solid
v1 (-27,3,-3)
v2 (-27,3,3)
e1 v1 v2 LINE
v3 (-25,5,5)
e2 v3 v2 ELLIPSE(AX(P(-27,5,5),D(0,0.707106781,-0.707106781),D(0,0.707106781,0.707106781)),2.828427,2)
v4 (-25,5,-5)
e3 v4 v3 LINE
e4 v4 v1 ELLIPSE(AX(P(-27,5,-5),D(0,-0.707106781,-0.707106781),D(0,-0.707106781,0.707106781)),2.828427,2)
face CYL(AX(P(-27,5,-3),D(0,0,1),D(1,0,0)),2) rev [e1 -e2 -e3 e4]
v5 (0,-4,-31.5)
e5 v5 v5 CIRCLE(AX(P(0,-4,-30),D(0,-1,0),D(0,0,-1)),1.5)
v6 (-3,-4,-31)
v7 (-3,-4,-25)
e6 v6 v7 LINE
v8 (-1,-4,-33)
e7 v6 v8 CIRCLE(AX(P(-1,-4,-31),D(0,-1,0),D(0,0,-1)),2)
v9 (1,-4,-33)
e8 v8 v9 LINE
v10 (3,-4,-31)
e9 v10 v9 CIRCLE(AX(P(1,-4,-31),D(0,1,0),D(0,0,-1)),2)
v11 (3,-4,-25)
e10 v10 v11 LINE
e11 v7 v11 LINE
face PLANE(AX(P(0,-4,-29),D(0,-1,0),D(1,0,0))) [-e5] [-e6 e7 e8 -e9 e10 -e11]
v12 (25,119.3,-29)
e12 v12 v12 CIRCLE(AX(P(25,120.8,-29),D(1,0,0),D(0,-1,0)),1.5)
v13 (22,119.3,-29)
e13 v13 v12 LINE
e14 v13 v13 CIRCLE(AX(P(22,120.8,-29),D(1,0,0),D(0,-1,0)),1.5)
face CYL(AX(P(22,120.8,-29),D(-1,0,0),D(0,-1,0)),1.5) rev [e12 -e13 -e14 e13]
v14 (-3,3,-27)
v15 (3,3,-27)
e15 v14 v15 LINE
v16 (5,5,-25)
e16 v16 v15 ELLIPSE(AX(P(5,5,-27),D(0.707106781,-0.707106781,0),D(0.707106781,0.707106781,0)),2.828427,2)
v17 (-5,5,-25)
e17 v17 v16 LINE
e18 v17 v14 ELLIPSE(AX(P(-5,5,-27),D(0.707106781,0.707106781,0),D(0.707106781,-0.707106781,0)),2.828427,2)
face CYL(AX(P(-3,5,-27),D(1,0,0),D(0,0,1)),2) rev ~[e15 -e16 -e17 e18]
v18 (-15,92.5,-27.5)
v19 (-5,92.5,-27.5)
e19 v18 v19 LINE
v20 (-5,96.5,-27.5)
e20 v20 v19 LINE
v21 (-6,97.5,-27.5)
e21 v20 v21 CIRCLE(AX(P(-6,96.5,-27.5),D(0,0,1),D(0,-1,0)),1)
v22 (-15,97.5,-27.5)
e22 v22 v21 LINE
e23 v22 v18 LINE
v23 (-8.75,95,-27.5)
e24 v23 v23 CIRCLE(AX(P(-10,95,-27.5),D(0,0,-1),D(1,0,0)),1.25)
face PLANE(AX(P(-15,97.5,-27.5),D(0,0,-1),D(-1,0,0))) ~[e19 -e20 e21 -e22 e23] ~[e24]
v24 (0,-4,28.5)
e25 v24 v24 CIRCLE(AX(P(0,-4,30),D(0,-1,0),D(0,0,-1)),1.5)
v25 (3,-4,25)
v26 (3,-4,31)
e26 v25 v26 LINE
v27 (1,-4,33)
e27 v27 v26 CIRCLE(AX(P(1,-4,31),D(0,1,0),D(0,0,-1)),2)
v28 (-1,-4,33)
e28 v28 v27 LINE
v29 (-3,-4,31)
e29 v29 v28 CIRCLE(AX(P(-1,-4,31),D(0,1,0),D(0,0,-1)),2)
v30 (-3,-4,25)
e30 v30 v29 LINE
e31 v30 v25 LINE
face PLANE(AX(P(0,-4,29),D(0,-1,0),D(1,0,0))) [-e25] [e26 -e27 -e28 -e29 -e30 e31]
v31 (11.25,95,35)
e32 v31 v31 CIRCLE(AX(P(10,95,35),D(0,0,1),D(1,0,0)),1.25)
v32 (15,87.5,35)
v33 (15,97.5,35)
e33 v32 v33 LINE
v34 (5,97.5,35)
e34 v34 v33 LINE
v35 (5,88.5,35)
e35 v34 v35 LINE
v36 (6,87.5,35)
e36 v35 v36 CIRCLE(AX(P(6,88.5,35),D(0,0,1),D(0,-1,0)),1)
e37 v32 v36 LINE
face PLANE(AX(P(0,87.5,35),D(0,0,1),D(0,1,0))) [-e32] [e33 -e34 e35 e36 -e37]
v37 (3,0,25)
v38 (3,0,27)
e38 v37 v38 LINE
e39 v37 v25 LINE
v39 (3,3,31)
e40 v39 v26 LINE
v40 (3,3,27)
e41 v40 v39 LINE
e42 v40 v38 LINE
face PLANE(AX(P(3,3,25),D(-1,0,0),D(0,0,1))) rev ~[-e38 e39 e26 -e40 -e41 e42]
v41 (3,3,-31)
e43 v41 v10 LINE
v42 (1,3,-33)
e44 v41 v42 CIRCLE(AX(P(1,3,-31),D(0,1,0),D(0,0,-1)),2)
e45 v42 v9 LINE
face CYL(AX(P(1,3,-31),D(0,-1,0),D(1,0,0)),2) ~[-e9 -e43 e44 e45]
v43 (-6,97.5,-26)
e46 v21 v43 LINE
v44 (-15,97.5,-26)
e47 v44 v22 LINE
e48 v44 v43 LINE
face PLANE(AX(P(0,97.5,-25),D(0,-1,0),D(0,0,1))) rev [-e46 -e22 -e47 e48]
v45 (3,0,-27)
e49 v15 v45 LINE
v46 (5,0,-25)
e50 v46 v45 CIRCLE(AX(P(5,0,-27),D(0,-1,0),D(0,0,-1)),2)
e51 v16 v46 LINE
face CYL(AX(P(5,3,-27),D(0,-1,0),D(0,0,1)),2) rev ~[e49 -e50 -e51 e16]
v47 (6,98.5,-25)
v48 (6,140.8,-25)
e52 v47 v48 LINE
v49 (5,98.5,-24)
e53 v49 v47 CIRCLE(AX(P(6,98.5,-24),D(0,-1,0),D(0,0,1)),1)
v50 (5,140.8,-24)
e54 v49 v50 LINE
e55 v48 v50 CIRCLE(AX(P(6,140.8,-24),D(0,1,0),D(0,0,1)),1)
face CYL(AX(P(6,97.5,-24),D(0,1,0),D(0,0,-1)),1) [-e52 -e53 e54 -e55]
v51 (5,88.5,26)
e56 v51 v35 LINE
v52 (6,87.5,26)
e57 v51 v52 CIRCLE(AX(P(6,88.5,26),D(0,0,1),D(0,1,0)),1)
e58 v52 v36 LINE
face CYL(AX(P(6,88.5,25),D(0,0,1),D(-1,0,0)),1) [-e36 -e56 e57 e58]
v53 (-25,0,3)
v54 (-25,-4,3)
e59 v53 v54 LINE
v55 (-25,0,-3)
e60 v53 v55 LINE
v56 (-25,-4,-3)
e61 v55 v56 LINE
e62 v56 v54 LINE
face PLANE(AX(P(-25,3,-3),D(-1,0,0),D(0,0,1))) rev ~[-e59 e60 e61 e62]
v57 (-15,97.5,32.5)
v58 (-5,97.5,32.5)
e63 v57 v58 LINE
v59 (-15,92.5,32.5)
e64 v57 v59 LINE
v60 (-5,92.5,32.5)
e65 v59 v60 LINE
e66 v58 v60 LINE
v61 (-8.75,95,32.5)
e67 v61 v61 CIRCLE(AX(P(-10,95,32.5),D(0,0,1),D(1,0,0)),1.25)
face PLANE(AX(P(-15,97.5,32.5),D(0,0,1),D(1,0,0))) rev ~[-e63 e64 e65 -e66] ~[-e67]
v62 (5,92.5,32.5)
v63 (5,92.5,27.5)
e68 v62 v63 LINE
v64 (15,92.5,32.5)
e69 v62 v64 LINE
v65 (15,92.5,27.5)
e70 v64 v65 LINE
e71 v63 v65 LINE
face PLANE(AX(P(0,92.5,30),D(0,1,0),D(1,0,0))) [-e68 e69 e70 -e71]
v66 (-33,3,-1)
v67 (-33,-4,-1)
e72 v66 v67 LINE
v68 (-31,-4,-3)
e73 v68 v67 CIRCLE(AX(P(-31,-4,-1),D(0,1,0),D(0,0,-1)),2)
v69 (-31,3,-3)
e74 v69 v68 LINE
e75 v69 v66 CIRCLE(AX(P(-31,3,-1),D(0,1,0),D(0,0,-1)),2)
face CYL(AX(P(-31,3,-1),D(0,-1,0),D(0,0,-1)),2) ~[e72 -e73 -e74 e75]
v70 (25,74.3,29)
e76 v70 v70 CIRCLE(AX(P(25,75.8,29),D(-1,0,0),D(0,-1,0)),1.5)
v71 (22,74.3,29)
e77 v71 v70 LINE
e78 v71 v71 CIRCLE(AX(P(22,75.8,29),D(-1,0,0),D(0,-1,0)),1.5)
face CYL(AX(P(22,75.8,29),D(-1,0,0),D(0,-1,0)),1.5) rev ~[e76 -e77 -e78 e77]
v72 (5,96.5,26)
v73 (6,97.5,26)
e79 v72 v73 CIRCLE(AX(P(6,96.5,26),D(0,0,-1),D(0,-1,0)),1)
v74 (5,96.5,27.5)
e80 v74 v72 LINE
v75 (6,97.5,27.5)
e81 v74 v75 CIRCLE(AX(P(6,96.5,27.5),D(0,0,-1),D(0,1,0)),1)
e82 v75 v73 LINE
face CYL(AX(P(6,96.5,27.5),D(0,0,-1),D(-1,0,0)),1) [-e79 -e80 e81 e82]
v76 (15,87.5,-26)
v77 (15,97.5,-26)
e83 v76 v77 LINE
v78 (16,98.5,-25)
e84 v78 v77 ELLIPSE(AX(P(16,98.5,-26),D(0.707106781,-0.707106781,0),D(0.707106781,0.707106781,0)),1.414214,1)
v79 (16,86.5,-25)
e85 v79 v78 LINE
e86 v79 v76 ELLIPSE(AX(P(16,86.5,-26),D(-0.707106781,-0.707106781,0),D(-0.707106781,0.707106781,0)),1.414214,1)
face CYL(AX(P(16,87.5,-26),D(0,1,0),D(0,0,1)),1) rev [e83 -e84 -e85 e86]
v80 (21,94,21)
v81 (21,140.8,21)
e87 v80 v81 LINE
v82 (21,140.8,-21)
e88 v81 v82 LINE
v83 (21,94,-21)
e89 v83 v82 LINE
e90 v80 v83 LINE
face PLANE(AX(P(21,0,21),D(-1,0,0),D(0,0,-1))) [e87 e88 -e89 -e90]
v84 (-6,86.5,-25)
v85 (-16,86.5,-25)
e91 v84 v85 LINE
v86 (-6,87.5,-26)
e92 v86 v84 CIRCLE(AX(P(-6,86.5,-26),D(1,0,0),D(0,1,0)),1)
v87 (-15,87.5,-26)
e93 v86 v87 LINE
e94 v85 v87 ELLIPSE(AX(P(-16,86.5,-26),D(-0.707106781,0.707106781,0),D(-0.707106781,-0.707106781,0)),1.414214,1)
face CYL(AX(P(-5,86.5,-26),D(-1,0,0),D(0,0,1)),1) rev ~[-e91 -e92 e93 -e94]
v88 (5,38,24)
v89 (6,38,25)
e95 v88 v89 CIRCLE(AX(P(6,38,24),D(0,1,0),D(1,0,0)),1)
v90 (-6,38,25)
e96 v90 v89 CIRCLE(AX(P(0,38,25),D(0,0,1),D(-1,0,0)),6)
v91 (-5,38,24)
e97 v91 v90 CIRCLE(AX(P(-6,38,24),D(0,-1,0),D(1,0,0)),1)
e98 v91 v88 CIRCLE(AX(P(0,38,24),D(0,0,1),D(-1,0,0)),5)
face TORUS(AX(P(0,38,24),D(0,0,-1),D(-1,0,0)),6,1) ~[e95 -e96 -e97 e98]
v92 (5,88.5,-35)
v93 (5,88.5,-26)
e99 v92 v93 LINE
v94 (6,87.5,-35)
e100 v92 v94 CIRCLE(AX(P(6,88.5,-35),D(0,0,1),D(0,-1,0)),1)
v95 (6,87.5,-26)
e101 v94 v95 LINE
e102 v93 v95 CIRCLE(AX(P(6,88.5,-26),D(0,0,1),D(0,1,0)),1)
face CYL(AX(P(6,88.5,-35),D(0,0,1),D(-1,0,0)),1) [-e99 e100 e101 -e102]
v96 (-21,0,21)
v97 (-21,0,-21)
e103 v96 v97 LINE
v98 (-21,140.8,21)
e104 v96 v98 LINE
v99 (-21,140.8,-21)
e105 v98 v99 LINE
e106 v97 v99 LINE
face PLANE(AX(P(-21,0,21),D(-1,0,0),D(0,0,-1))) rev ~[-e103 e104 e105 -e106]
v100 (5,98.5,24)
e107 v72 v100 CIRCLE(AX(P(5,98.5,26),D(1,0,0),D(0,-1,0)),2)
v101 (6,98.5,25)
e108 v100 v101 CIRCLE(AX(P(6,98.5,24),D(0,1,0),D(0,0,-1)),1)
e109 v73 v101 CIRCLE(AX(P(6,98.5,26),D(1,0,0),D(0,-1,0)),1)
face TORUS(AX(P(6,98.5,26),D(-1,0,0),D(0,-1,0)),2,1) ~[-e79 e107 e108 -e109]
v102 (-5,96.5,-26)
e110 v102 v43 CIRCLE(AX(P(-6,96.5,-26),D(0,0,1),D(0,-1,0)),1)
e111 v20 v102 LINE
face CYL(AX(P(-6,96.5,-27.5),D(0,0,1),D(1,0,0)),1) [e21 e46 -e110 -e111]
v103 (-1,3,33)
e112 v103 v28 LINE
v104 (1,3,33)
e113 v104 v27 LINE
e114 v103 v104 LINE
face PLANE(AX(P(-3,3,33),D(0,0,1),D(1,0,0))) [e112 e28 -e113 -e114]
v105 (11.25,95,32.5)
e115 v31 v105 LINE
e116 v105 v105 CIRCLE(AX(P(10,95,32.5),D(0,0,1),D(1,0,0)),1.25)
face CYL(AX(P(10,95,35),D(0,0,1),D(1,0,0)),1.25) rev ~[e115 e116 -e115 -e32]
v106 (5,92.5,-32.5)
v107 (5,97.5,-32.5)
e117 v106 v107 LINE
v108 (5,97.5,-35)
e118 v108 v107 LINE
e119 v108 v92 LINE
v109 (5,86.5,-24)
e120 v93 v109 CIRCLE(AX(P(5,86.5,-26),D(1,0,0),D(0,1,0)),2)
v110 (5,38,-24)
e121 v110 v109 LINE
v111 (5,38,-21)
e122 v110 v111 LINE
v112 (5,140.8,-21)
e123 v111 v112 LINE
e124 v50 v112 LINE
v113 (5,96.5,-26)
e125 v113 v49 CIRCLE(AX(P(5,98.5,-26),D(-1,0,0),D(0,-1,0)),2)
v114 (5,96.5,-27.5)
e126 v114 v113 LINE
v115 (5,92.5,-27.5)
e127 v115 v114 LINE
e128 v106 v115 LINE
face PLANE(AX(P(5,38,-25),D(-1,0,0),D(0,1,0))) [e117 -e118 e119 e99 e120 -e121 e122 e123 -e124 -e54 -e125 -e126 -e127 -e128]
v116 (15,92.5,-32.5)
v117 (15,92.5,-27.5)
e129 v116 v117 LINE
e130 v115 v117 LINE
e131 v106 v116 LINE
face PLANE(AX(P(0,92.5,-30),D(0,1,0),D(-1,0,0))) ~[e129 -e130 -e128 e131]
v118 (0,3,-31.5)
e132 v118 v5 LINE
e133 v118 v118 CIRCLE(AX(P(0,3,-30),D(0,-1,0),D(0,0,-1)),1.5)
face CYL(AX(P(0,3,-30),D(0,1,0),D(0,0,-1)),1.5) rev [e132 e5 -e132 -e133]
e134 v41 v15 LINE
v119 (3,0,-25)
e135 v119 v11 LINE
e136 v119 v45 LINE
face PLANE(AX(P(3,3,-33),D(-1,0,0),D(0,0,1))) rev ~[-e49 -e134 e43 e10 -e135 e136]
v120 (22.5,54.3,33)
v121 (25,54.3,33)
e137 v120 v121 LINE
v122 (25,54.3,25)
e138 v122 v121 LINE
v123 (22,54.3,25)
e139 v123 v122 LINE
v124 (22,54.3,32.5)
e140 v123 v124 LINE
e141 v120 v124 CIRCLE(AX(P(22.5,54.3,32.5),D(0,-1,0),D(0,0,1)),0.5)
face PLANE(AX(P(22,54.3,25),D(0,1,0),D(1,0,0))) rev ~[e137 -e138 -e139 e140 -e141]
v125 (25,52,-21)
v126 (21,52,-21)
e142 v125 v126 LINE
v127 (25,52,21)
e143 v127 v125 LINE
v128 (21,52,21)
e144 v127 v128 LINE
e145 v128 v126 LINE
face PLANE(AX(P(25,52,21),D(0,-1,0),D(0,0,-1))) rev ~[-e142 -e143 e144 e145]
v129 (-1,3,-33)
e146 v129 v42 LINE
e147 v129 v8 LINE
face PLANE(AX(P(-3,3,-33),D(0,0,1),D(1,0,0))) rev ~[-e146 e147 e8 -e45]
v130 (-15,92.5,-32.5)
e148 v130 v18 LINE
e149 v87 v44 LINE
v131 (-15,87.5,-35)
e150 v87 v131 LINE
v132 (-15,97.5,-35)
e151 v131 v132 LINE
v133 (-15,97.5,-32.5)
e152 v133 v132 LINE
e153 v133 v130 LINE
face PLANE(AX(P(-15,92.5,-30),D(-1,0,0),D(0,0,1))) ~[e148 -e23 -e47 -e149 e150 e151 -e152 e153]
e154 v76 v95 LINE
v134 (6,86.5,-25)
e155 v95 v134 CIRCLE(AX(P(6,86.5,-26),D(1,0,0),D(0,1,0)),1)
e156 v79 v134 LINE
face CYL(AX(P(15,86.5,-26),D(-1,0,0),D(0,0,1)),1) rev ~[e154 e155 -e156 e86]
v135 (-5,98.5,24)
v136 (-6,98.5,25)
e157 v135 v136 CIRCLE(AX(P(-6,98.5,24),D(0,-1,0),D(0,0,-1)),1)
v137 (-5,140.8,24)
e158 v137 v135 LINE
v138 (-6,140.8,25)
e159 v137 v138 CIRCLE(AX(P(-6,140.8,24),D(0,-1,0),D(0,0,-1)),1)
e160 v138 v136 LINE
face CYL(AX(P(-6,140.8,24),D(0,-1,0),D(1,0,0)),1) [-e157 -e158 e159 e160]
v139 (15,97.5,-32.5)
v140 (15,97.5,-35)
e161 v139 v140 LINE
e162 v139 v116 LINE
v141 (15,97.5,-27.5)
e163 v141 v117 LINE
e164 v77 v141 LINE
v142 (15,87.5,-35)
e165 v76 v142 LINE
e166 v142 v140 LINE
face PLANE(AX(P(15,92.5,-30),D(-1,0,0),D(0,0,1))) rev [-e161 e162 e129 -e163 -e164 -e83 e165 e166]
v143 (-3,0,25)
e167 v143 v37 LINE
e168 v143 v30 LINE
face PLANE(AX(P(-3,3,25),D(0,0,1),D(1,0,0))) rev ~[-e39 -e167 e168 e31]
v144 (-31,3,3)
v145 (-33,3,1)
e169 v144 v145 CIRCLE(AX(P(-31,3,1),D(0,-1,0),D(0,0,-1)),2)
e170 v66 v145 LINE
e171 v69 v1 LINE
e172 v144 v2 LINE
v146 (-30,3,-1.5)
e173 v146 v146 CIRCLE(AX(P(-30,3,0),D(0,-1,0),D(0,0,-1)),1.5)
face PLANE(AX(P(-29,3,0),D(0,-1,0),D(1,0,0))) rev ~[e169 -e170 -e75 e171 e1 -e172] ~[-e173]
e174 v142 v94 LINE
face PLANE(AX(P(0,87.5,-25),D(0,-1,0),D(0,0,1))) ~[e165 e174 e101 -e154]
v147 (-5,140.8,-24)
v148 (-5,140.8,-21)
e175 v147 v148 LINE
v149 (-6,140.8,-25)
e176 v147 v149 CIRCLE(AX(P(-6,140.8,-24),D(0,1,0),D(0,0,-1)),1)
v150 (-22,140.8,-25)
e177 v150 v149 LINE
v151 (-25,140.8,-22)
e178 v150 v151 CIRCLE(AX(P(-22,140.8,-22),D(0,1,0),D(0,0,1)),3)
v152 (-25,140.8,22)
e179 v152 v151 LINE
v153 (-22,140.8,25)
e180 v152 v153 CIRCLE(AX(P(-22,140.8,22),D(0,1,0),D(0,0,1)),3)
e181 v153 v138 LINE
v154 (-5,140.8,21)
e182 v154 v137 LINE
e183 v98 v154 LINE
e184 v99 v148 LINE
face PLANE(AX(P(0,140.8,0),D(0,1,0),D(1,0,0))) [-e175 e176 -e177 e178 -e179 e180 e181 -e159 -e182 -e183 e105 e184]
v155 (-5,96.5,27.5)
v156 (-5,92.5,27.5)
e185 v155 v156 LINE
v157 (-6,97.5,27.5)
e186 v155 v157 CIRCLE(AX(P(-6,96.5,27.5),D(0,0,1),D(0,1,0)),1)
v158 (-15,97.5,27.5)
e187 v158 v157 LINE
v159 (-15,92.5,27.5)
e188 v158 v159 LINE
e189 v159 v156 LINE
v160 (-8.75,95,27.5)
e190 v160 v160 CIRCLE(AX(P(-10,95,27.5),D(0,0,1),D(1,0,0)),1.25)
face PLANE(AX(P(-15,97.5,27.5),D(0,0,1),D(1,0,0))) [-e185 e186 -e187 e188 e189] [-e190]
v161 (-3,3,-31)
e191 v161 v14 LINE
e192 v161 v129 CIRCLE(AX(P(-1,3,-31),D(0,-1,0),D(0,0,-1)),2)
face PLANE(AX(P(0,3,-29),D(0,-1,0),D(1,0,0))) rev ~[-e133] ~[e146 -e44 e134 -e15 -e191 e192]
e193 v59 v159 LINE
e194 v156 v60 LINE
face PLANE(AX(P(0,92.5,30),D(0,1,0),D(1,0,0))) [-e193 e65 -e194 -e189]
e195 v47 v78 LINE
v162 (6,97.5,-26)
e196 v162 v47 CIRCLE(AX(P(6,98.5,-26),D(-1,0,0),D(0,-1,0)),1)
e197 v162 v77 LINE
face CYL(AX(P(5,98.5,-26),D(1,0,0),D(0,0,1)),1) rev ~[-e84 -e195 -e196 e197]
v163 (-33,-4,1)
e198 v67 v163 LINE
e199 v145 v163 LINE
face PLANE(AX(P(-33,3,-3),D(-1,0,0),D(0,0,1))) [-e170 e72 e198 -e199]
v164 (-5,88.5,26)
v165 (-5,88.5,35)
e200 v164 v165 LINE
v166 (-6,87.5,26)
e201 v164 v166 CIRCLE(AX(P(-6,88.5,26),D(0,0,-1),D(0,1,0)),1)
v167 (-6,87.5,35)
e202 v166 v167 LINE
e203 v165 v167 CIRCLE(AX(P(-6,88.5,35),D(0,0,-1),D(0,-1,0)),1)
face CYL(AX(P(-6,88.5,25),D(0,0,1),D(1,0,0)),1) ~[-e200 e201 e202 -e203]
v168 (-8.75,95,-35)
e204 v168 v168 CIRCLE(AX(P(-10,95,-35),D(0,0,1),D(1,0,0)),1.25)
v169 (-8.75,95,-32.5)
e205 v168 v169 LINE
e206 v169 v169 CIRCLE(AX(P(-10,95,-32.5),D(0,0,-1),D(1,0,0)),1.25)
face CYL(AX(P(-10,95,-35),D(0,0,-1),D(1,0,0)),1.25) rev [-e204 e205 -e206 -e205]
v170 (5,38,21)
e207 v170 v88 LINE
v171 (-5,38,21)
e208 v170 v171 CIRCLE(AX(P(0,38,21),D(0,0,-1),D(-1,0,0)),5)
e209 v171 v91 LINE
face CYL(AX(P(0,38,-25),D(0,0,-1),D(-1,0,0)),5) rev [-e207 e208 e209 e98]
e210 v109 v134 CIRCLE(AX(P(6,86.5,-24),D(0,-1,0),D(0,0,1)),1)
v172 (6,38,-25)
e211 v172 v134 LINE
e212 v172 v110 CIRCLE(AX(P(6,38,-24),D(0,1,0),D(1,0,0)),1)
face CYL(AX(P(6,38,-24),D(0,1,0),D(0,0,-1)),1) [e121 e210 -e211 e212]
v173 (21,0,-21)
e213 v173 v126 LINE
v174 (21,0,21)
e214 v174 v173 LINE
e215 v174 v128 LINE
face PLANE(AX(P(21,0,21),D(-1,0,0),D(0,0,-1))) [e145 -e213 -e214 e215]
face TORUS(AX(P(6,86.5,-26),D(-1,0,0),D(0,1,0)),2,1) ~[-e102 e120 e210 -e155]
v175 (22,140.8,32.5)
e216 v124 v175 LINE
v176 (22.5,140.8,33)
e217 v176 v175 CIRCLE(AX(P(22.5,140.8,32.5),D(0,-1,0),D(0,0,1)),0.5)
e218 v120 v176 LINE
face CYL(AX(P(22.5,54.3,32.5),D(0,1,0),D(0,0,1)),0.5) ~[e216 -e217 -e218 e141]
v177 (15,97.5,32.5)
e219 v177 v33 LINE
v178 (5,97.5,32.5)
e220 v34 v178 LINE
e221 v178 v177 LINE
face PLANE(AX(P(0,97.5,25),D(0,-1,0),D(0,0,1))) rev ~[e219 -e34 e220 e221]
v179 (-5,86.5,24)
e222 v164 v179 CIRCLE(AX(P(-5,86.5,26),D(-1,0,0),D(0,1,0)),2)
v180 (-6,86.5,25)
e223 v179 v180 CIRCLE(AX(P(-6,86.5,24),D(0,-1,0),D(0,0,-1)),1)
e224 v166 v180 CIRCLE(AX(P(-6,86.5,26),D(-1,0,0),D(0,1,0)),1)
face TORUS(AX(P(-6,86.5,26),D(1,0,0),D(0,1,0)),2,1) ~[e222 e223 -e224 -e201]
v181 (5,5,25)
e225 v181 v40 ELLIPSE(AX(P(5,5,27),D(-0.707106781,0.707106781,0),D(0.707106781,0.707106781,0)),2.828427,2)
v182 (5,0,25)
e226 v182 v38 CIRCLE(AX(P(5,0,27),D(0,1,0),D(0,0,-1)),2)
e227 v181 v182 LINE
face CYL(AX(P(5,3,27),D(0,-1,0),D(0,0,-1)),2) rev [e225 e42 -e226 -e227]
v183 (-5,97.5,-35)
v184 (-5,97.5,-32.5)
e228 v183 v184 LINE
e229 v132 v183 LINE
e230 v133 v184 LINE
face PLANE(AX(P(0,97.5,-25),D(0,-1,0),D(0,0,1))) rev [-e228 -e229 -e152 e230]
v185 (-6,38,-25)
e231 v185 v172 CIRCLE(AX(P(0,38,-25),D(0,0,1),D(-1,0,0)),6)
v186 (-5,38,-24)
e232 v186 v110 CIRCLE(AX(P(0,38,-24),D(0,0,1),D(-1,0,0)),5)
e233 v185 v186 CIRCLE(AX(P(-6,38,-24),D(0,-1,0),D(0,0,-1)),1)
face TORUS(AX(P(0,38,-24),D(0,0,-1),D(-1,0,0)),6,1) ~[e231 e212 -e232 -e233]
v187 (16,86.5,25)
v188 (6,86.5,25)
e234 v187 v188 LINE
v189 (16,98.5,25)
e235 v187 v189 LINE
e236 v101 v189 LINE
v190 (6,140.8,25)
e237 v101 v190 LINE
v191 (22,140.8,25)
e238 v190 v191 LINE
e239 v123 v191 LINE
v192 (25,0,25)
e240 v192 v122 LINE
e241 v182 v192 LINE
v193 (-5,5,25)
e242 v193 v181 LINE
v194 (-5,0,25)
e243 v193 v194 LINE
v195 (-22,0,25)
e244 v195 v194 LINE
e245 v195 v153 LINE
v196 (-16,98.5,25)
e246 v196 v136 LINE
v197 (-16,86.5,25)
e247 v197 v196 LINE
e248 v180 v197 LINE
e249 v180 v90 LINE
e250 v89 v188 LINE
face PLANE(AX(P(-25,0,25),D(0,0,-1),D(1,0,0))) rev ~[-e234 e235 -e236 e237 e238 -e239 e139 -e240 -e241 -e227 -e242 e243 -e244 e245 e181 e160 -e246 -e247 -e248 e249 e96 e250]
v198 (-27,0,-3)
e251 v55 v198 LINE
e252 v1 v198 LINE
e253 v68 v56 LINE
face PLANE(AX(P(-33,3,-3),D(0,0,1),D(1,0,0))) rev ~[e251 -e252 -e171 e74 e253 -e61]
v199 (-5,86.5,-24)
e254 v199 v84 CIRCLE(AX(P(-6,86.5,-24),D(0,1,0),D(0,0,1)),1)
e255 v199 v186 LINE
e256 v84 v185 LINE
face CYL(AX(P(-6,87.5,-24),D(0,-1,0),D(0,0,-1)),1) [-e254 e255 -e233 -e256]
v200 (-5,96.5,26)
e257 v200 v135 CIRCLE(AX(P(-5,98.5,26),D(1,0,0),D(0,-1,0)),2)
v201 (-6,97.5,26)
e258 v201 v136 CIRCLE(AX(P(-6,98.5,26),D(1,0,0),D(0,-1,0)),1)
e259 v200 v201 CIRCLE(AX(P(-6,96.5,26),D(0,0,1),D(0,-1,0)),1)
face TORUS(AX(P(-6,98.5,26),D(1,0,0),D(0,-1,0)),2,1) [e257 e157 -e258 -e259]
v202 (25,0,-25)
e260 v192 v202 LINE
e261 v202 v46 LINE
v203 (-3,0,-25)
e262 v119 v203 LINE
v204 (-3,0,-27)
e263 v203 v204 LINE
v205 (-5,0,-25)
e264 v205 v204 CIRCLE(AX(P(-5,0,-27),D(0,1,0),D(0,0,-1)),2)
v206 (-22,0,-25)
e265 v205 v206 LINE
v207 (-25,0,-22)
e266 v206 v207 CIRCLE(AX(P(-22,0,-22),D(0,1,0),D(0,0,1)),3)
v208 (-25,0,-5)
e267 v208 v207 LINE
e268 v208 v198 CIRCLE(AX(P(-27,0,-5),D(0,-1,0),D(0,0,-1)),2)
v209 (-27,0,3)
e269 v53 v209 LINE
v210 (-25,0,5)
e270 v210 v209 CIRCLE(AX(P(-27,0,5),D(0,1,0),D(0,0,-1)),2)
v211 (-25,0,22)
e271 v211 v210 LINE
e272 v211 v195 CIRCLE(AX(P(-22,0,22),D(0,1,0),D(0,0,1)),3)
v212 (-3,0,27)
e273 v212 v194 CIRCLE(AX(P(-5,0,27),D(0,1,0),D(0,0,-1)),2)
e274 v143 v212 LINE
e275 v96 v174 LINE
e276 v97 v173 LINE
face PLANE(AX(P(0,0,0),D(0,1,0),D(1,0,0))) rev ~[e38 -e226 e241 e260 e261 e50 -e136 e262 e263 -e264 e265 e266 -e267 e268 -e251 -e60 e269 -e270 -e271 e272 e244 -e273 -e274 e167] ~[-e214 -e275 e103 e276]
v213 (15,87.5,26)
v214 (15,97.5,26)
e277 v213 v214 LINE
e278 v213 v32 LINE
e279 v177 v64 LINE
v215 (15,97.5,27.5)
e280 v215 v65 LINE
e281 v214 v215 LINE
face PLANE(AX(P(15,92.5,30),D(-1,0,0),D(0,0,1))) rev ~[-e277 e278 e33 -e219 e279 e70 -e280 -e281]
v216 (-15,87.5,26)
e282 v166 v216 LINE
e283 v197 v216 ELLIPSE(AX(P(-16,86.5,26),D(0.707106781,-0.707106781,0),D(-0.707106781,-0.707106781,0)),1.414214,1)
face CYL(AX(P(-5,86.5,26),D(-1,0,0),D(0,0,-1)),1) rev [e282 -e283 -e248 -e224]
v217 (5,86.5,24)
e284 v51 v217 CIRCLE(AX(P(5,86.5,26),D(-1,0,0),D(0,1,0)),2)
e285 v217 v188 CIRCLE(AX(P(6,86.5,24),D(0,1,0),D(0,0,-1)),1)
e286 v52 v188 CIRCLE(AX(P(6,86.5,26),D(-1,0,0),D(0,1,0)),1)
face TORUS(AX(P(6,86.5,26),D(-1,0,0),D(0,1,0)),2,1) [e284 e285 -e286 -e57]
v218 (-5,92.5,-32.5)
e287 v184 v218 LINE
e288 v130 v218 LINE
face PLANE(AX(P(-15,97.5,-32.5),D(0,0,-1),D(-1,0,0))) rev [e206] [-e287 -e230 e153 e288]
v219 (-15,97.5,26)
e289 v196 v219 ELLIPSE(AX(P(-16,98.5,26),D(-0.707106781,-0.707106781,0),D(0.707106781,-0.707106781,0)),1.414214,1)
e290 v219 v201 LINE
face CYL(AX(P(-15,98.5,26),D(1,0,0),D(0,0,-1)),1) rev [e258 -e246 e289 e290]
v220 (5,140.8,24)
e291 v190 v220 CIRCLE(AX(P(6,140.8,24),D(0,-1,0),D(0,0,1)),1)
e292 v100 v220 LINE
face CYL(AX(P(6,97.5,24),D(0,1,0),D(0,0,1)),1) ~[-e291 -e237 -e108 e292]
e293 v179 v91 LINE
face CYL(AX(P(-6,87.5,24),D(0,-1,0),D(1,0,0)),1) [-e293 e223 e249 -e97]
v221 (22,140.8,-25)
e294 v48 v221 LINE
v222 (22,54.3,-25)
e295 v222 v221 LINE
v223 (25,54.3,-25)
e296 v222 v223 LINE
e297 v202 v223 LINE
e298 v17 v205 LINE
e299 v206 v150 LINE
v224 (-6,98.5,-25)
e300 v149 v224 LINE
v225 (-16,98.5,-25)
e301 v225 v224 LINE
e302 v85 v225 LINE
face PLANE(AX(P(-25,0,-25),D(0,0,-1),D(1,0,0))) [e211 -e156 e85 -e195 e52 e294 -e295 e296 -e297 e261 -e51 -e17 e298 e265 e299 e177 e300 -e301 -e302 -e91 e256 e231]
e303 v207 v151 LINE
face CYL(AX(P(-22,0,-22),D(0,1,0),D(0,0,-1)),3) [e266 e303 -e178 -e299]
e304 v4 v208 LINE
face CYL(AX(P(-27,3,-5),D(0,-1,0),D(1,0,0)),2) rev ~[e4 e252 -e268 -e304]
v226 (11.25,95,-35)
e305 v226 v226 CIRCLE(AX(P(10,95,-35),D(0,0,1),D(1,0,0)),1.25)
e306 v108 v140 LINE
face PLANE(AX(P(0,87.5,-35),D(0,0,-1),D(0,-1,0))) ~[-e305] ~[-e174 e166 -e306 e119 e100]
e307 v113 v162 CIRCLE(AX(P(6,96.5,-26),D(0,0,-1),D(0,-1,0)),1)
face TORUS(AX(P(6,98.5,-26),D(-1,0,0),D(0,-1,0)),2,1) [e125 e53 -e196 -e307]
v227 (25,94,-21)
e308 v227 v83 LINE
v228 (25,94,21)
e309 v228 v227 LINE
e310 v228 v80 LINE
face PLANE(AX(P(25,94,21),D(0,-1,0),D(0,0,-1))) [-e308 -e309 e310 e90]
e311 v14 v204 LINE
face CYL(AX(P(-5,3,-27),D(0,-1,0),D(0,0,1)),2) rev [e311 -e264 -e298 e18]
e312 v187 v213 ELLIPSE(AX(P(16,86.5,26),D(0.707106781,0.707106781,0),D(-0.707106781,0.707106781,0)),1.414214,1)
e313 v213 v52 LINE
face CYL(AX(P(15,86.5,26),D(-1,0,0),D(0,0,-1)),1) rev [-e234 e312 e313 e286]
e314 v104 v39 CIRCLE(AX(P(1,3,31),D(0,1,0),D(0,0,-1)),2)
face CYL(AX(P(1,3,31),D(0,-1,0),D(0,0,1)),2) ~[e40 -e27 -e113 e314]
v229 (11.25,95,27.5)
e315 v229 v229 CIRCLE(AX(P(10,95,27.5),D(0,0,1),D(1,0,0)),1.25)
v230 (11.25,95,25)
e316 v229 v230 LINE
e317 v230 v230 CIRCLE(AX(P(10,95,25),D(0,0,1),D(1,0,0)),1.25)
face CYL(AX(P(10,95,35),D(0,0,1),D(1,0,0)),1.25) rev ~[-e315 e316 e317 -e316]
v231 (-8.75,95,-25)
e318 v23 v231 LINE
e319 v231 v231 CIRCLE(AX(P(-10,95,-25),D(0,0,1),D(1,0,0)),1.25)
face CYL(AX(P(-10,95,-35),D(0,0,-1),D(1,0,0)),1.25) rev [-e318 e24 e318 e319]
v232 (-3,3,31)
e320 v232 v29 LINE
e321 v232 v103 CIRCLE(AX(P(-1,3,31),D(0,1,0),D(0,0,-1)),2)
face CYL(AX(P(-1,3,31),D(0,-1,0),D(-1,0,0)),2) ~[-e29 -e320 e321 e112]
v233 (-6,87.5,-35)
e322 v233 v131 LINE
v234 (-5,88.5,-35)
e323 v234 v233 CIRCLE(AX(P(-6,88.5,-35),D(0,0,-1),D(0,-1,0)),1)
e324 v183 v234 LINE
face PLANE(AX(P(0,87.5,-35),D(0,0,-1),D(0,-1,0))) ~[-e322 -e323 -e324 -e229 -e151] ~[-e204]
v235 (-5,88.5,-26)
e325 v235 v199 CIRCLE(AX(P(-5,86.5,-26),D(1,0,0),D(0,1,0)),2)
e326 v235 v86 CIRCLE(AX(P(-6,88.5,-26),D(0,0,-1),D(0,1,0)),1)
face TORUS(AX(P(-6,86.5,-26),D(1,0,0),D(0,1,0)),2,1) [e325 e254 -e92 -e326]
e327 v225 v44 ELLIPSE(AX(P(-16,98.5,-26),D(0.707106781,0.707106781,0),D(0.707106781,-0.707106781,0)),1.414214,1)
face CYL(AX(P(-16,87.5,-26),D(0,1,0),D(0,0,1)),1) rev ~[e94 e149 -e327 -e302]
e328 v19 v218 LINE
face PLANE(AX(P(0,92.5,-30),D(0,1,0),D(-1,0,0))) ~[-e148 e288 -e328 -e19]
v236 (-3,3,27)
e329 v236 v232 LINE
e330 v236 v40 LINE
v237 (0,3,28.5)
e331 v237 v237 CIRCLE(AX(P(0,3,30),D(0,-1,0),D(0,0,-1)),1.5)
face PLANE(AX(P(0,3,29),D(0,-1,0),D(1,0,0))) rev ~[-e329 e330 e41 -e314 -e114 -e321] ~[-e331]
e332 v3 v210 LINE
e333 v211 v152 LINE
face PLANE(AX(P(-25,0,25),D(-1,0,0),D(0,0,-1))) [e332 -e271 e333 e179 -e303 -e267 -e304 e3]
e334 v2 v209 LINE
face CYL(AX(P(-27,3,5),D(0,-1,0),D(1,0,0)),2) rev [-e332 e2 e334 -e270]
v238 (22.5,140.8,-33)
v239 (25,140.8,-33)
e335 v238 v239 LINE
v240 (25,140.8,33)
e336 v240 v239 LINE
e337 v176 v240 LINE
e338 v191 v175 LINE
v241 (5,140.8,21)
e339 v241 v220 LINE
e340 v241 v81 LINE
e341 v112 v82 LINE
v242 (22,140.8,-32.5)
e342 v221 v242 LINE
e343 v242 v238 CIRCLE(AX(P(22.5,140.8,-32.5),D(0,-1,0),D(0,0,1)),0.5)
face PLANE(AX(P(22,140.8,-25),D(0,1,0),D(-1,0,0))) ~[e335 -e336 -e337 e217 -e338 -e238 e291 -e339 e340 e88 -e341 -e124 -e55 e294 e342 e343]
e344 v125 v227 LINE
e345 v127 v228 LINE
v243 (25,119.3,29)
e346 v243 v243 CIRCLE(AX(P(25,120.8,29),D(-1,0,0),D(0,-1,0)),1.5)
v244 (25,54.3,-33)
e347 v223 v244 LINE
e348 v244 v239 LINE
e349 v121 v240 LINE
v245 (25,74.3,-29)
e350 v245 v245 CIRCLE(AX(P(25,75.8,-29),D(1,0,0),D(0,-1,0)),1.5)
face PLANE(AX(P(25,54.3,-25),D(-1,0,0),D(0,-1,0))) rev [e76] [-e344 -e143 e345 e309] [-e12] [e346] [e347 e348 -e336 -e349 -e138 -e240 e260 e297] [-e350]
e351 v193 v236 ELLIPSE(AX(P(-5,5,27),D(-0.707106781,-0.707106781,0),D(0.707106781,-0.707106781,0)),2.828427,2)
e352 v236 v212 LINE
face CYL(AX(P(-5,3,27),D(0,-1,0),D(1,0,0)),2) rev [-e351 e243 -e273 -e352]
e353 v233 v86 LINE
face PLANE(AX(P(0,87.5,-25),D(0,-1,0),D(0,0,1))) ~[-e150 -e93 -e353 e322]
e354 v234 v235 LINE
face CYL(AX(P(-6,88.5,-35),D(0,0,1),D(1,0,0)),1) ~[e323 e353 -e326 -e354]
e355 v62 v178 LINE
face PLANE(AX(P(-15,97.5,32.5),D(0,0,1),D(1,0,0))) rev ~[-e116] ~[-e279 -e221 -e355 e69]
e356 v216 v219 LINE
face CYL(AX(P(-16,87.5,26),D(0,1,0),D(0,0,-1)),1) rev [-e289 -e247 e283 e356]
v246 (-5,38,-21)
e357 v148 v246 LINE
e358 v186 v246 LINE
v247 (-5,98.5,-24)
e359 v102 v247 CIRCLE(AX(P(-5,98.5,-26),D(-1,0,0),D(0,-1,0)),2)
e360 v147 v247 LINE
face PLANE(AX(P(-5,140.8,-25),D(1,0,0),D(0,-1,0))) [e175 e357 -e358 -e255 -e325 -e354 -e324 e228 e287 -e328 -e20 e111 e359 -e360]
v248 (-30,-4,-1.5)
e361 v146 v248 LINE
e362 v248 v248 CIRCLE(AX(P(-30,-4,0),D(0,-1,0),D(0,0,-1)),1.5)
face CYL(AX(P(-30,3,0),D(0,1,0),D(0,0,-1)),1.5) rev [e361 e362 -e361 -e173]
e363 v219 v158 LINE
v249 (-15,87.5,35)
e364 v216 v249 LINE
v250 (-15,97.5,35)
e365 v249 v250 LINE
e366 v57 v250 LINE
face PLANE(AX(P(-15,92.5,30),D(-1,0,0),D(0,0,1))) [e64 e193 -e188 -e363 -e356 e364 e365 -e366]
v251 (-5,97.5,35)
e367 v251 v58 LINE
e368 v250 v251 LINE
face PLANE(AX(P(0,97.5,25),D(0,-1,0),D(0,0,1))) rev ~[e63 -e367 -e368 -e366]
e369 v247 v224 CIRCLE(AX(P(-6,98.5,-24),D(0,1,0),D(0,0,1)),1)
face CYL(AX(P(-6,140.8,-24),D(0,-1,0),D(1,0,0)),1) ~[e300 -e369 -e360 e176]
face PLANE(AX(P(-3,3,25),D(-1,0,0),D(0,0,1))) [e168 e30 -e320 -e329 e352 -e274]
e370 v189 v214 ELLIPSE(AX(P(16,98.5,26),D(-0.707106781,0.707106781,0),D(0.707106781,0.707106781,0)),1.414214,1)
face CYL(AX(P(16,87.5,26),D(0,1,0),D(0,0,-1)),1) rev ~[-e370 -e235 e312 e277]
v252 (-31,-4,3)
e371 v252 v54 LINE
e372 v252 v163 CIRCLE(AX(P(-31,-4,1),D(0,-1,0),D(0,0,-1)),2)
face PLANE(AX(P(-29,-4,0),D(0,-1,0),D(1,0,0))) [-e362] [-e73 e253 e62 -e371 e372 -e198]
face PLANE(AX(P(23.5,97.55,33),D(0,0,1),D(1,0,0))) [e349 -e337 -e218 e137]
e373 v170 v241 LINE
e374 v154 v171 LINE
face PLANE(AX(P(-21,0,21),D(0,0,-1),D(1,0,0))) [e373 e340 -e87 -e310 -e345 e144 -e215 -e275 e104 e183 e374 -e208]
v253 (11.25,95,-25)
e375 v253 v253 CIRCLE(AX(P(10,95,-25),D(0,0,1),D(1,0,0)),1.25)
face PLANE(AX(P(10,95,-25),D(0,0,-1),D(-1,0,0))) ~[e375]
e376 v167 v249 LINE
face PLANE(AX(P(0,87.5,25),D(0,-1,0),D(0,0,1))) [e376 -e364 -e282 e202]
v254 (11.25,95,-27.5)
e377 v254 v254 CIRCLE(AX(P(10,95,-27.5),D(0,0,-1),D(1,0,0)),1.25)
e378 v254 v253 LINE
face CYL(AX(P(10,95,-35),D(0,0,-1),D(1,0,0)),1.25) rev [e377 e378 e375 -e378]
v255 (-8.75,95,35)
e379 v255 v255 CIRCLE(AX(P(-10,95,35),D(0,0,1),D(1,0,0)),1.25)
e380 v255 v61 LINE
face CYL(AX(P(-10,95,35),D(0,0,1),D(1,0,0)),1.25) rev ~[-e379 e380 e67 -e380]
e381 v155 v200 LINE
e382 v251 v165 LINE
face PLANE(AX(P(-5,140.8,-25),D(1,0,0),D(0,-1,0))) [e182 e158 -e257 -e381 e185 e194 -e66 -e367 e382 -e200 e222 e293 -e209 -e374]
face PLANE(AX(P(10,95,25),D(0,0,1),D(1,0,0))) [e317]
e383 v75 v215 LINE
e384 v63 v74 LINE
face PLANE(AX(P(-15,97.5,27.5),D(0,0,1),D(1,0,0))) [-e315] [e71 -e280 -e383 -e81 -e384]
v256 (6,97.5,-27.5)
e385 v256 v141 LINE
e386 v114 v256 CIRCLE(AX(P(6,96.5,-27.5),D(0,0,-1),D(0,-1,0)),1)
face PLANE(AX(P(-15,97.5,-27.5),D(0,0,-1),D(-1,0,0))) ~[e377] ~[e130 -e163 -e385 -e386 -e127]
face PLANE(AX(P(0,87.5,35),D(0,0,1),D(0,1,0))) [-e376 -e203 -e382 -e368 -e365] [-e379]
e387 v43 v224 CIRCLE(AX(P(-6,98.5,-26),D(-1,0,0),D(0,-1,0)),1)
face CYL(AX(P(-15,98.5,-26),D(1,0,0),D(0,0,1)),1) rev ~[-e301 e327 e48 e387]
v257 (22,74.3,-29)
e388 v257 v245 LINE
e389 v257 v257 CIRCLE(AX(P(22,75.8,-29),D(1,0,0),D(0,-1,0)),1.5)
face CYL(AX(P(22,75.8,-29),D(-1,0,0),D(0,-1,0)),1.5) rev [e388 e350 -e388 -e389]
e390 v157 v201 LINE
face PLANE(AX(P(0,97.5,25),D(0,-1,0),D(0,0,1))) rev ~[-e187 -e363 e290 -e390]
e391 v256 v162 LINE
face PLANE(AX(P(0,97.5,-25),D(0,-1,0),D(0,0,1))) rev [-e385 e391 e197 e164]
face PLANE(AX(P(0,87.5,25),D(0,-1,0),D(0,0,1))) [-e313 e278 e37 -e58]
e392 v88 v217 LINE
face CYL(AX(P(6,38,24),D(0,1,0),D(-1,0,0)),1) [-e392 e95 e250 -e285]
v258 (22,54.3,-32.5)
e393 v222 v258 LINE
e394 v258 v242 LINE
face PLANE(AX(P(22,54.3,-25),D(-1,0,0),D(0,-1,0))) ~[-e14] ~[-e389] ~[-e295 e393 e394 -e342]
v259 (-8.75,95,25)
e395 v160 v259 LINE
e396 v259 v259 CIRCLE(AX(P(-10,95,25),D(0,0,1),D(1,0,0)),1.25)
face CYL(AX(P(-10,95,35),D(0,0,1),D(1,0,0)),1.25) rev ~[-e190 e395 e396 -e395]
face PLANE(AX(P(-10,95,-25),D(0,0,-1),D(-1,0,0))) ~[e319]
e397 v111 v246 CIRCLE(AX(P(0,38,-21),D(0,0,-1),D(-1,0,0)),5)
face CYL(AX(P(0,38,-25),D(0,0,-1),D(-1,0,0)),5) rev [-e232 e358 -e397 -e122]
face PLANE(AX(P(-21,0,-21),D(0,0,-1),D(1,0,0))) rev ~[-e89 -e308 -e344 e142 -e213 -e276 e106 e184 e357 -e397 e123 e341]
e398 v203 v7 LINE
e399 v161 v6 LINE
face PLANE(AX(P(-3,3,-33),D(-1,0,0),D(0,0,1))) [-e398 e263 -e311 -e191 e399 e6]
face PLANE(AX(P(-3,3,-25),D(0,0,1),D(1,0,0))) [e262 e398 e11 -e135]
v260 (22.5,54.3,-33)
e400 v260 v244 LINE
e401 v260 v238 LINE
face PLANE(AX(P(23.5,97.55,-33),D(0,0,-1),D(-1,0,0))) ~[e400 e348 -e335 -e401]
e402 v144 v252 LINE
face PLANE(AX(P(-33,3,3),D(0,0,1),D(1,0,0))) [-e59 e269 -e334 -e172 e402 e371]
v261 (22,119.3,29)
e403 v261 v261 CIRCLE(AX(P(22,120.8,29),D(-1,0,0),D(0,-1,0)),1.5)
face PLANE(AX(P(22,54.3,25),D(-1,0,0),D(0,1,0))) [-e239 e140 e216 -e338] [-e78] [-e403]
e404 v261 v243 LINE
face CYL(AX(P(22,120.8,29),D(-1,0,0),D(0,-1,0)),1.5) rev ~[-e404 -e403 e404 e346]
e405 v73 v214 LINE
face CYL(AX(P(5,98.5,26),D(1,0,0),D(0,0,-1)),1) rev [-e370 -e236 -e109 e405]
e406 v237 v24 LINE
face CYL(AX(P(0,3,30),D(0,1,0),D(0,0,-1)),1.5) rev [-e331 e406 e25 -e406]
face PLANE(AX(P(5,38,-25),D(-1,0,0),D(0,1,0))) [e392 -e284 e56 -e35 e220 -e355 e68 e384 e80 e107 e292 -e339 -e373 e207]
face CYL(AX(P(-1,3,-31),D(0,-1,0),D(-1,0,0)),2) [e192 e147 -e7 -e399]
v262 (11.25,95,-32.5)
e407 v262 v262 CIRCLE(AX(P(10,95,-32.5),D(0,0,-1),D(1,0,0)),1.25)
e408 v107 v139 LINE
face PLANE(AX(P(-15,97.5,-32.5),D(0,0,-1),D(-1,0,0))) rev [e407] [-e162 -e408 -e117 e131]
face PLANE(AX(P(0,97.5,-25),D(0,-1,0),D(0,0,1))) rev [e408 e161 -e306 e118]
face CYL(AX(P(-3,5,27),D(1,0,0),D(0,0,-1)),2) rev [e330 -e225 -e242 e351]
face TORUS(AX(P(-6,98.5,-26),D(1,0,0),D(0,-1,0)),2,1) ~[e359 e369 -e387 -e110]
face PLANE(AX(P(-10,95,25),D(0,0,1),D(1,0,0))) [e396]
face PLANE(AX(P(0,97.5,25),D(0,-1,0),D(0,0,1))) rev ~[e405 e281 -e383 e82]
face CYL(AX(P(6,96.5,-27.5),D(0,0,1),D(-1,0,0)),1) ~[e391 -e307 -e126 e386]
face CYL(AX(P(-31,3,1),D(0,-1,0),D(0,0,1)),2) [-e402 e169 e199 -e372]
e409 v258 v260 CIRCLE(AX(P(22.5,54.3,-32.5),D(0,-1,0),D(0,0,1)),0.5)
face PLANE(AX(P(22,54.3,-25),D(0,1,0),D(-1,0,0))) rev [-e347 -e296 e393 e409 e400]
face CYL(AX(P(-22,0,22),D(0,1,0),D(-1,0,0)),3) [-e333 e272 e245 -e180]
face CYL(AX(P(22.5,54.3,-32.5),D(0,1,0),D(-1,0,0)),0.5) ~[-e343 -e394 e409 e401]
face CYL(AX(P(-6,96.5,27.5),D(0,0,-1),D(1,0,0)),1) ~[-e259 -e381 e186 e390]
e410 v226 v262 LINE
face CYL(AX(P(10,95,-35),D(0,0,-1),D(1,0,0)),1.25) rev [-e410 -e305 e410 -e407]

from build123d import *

# Parameters (mm, degrees)
SKETCH1_W                = 50
SKETCH1_H                = 50
SKETCH1_W_2              = 42
SKETCH1_H_2              = 42
BOSS_EXTRUDE1_DEPTH      = 140.8
CUT_EXTRUDE1_DEPTH       = 152.491385894
SKETCH5_W                = 10
SKETCH5_H                = 10
BOSS_EXTRUDE3_DEPTH      = 15
SKETCH8_W                = 10
SKETCH8_H                = 10
CUT_EXTRUDE4_DEPTH       = 107.56570743
SKETCH9_W                = 30
SKETCH9_H                = 5
CUT_EXTRUDE5_DEPTH       = 5
SKETCH10_R               = 1.25
CUT_EXTRUDE6_DEPTH       = 10
FILLET5_R                = 1
FILLET6_R                = 1
CUT_EXTRUDE3_REACH       = 155.459
SKETCH7_W                = 42
SKETCH7_H                = 42
SKETCH11_W               = 3
SKETCH11_H               = 86.5
BOSS_EXTRUDE4_DEPTH      = 8
CUT_EXTRUDE11_REACH      = 154.508
SKETCH16_R               = 1.5
FILLET3_R                = 3
FILLET4_R                = 0.5
BOSS_EXTRUDE6_DEPTH      = 4
BOSS_EXTRUDE6_DEPTH_BACK = 3
SKETCH18_W               = 6
SKETCH18_H               = 8
SKETCH18_R               = 1.5
SKETCH18_W_2             = 8
SKETCH18_H_2             = 6
FILLET7_R                = 2


with BuildPart() as part:
    # Sketch1 → Boss-Extrude1 (new body)
    with BuildSketch(Plane(origin=(0, 0, 0), x_dir=(1, 0, 0), z_dir=(0, 1, 0))):
        Rectangle(SKETCH1_W, SKETCH1_H)
        Rectangle(SKETCH1_W_2, SKETCH1_H_2, mode=Mode.SUBTRACT)
    extrude(amount=BOSS_EXTRUDE1_DEPTH)

    # Sketch3 → Cut-Extrude1 (cut, through all)
    with BuildSketch(Plane(origin=(0, 0, -25), x_dir=(-1, 0, 0), z_dir=(0, 0, -1))):
        with BuildLine():
            Line((-5, 140.8), (5, 140.8))
            Line((5, 140.8), (5, 38))
            ThreePointArc((5, 38), (0, 33), (-5, 38))
            Line((-5, 38), (-5, 140.8))
        make_face()
    extrude(amount=-CUT_EXTRUDE1_DEPTH, mode=Mode.SUBTRACT)

    # Sketch5 → Boss-Extrude3 (add, symmetric)
    with BuildSketch(Plane(origin=(0, 0, 25), x_dir=(0, 0, 1), z_dir=(-1, 0, 0))):
        with Locations((5, 92.5)):
            Rectangle(SKETCH5_W, SKETCH5_H)
    boss_extrude3 = extrude(amount=BOSS_EXTRUDE3_DEPTH, both=True)

    # Sketch8 → Cut-Extrude4 (cut, through all)
    with BuildSketch(Plane(origin=(0, 97.5, 0), x_dir=(1, 0, 0), z_dir=(0, 1, 0))):
        with Locations((0, -30)):
            Rectangle(SKETCH8_W, SKETCH8_H)
    cut_extrude4 = extrude(amount=-CUT_EXTRUDE4_DEPTH, mode=Mode.SUBTRACT)

    # Sketch9 → Cut-Extrude5 (cut)
    with BuildSketch(Plane(origin=(0, 97.5, 0), x_dir=(1, 0, 0), z_dir=(0, 1, 0))):
        with Locations((0, -30)):
            Rectangle(SKETCH9_W, SKETCH9_H)
    cut_extrude5 = extrude(amount=-CUT_EXTRUDE5_DEPTH, mode=Mode.SUBTRACT)

    # Sketch10 → Cut-Extrude6 (cut)
    with BuildSketch(Plane.XY.offset(35)):
        with Locations((-10, 95)):
            Circle(SKETCH10_R)
        with Locations((10, 95)):
            Circle(SKETCH10_R)
    cut_extrude6 = extrude(amount=-CUT_EXTRUDE6_DEPTH, mode=Mode.SUBTRACT)

    # Fillet5
    fillet5_edges = [part.edges().sort_by_distance(p)[0] for p in [
        (5, 97.5, 26.25),
        (5, 119.15, 25),
        (-5, 62.75, 25),
        (0, 33, 25),
        (5, 62.75, 25),
        (-5, 119.15, 25),
        (-10, 97.5, 25),
        (-10, 87.5, 25),
        (15, 92.5, 25),
        (10, 87.5, 25),
        (10, 97.5, 25),
        (-15, 92.5, 25),
        (5, 87.5, 30),
        (-5, 87.5, 30),
        (-5, 97.5, 26.25),
    ]]
    fillet(fillet5_edges, radius=FILLET5_R)

    # Mirror7: Boss-Extrude3, Cut-Extrude4, Cut-Extrude5, Cut-Extrude6 across plane
    add(boss_extrude3.mirror(Plane.XY))
    add(cut_extrude4.mirror(Plane.XY), mode=Mode.SUBTRACT)
    add(cut_extrude5.mirror(Plane.XY), mode=Mode.SUBTRACT)
    add(cut_extrude6.mirror(Plane.XY), mode=Mode.SUBTRACT)

    # Fillet6
    fillet6_edges = [part.edges().sort_by_distance(p)[0] for p in [
        (5, 62.75, -25),
        (-5, 119.15, -25),
        (-10, 87.5, -25),
        (-10, 97.5, -25),
        (10, 97.5, -25),
        (-15, 92.5, -25),
        (10, 87.5, -25),
        (15, 92.5, -25),
        (-5, 97.5, -26.25),
        (-5, 87.5, -30),
        (5, 87.5, -30),
        (5, 97.5, -26.25),
        (5, 119.15, -25),
        (0, 33, -25),
        (-5, 62.75, -25),
    ]]
    fillet(fillet6_edges, radius=FILLET6_R)

    # Sketch7 → Cut-Extrude3 (cut, up to next)
    with BuildSketch(Plane(origin=(25, 0, 0), x_dir=(0, 0, -1), z_dir=(1, 0, 0)), mode=Mode.PRIVATE) as cut_extrude3_sk1:
        with Locations((0, 73)):
            Rectangle(SKETCH7_W, SKETCH7_H)
    cut_extrude3_tool1 = extrude(cut_extrude3_sk1.sketch, amount=-CUT_EXTRUDE3_REACH, mode=Mode.PRIVATE) & part.part
    add(cut_extrude3_tool1.solids().sort_by_distance((25, 73, 0))[0], mode=Mode.SUBTRACT)

    # Sketch11 → Boss-Extrude4 (add)
    with BuildSketch(Plane.XY.offset(25)):
        with Locations((23.5, 97.55)):
            Rectangle(SKETCH11_W, SKETCH11_H)
    boss_extrude4 = extrude(amount=BOSS_EXTRUDE4_DEPTH)

    # Sketch16 → Cut-Extrude11 (cut, up to next)
    with BuildSketch(Plane.ZY.offset(-22), mode=Mode.PRIVATE) as cut_extrude11_sk1:
        with Locations(Location((29, 120.8, 0), (0, 0, 270))):
            Circle(SKETCH16_R)
    cut_extrude11_tool1 = extrude(cut_extrude11_sk1.sketch, amount=-CUT_EXTRUDE11_REACH, mode=Mode.PRIVATE) & part.part
    # Sketch16 → Cut-Extrude11 (cut, up to next)
    with BuildSketch(Plane.ZY.offset(-22), mode=Mode.PRIVATE) as cut_extrude11_sk2:
        with Locations(Location((29, 75.8, 0), (0, 0, 270))):
            Circle(SKETCH16_R)
    cut_extrude11_tool2 = extrude(cut_extrude11_sk2.sketch, amount=-CUT_EXTRUDE11_REACH, mode=Mode.PRIVATE) & part.part
    cut_extrude11_1 = cut_extrude11_tool1.solids().sort_by_distance((22, 120.8, 29))[0]
    add(cut_extrude11_1, mode=Mode.SUBTRACT)
    cut_extrude11_2 = cut_extrude11_tool2.solids().sort_by_distance((22, 75.8, 29))[0]
    add(cut_extrude11_2, mode=Mode.SUBTRACT)
    cut_extrude11 = cut_extrude11_1 + cut_extrude11_2  # Cut-Extrude11 as one shape, for the pattern or mirror that repeats it

    # Mirror8: Boss-Extrude4, Cut-Extrude11 across plane
    add(boss_extrude4.mirror(Plane.XY))
    add(cut_extrude11.mirror(Plane.XY), mode=Mode.SUBTRACT)

    # Fillet3
    fillet3_edges = [part.edges().sort_by_distance(p)[0] for p in [
        (-25, 70.4, -25),
        (-25, 70.4, 25),
    ]]
    fillet(fillet3_edges, radius=FILLET3_R)

    # Fillet4
    fillet4_edges = [part.edges().sort_by_distance(p)[0] for p in [
        (22, 97.55, 33),
        (22, 97.55, -33),
    ]]
    fillet(fillet4_edges, radius=FILLET4_R)

    # Sketch18 → Boss-Extrude6 (add, two sides: drawn at the far end of the back side and taken through both)
    # profile 1 of 3: a face of its own
    with BuildSketch(Plane.XZ.offset(-BOSS_EXTRUDE6_DEPTH_BACK)):
        with Locations((0, 29)):
            Rectangle(SKETCH18_W, SKETCH18_H)
        with Locations(Location((0, 30, 0), (0, 0, 270))):
            Circle(SKETCH18_R, mode=Mode.SUBTRACT)
    # profile 2 of 3: a face of its own
    with BuildSketch(Plane.XZ.offset(-BOSS_EXTRUDE6_DEPTH_BACK)):
        with Locations((-29, 0)):
            Rectangle(SKETCH18_W_2, SKETCH18_H_2)
        with Locations(Location((-30, 0, 0), (0, 0, 270))):
            Circle(SKETCH18_R, mode=Mode.SUBTRACT)
    # profile 3 of 3: a face of its own
    with BuildSketch(Plane.XZ.offset(-BOSS_EXTRUDE6_DEPTH_BACK)):
        with Locations((0, -29)):
            Rectangle(SKETCH18_W, SKETCH18_H)
        with Locations(Location((0, -30, 0), (0, 0, 270))):
            Circle(SKETCH18_R, mode=Mode.SUBTRACT)
    extrude(amount=BOSS_EXTRUDE6_DEPTH + BOSS_EXTRUDE6_DEPTH_BACK)

    # Fillet7
    fillet7_edges = [part.edges().sort_by_distance(p)[0] for p in [
        (-25, 3, 0),
        (-25, 1.5, 3),
        (-25, 1.5, -3),
        (-33, -0.5, -3),
        (-33, -0.5, 3),
        (0, 3, 25),
        (3, 1.5, 25),
        (-3, 1.5, 25),
        (-3, -0.5, 33),
        (3, -0.5, 33),
        (0, 3, -25),
        (-3, 1.5, -25),
        (3, 1.5, -25),
        (3, -0.5, -33),
        (-3, -0.5, -33),
    ]]
    fillet(fillet7_edges, radius=FILLET7_R)


solid = part.part
